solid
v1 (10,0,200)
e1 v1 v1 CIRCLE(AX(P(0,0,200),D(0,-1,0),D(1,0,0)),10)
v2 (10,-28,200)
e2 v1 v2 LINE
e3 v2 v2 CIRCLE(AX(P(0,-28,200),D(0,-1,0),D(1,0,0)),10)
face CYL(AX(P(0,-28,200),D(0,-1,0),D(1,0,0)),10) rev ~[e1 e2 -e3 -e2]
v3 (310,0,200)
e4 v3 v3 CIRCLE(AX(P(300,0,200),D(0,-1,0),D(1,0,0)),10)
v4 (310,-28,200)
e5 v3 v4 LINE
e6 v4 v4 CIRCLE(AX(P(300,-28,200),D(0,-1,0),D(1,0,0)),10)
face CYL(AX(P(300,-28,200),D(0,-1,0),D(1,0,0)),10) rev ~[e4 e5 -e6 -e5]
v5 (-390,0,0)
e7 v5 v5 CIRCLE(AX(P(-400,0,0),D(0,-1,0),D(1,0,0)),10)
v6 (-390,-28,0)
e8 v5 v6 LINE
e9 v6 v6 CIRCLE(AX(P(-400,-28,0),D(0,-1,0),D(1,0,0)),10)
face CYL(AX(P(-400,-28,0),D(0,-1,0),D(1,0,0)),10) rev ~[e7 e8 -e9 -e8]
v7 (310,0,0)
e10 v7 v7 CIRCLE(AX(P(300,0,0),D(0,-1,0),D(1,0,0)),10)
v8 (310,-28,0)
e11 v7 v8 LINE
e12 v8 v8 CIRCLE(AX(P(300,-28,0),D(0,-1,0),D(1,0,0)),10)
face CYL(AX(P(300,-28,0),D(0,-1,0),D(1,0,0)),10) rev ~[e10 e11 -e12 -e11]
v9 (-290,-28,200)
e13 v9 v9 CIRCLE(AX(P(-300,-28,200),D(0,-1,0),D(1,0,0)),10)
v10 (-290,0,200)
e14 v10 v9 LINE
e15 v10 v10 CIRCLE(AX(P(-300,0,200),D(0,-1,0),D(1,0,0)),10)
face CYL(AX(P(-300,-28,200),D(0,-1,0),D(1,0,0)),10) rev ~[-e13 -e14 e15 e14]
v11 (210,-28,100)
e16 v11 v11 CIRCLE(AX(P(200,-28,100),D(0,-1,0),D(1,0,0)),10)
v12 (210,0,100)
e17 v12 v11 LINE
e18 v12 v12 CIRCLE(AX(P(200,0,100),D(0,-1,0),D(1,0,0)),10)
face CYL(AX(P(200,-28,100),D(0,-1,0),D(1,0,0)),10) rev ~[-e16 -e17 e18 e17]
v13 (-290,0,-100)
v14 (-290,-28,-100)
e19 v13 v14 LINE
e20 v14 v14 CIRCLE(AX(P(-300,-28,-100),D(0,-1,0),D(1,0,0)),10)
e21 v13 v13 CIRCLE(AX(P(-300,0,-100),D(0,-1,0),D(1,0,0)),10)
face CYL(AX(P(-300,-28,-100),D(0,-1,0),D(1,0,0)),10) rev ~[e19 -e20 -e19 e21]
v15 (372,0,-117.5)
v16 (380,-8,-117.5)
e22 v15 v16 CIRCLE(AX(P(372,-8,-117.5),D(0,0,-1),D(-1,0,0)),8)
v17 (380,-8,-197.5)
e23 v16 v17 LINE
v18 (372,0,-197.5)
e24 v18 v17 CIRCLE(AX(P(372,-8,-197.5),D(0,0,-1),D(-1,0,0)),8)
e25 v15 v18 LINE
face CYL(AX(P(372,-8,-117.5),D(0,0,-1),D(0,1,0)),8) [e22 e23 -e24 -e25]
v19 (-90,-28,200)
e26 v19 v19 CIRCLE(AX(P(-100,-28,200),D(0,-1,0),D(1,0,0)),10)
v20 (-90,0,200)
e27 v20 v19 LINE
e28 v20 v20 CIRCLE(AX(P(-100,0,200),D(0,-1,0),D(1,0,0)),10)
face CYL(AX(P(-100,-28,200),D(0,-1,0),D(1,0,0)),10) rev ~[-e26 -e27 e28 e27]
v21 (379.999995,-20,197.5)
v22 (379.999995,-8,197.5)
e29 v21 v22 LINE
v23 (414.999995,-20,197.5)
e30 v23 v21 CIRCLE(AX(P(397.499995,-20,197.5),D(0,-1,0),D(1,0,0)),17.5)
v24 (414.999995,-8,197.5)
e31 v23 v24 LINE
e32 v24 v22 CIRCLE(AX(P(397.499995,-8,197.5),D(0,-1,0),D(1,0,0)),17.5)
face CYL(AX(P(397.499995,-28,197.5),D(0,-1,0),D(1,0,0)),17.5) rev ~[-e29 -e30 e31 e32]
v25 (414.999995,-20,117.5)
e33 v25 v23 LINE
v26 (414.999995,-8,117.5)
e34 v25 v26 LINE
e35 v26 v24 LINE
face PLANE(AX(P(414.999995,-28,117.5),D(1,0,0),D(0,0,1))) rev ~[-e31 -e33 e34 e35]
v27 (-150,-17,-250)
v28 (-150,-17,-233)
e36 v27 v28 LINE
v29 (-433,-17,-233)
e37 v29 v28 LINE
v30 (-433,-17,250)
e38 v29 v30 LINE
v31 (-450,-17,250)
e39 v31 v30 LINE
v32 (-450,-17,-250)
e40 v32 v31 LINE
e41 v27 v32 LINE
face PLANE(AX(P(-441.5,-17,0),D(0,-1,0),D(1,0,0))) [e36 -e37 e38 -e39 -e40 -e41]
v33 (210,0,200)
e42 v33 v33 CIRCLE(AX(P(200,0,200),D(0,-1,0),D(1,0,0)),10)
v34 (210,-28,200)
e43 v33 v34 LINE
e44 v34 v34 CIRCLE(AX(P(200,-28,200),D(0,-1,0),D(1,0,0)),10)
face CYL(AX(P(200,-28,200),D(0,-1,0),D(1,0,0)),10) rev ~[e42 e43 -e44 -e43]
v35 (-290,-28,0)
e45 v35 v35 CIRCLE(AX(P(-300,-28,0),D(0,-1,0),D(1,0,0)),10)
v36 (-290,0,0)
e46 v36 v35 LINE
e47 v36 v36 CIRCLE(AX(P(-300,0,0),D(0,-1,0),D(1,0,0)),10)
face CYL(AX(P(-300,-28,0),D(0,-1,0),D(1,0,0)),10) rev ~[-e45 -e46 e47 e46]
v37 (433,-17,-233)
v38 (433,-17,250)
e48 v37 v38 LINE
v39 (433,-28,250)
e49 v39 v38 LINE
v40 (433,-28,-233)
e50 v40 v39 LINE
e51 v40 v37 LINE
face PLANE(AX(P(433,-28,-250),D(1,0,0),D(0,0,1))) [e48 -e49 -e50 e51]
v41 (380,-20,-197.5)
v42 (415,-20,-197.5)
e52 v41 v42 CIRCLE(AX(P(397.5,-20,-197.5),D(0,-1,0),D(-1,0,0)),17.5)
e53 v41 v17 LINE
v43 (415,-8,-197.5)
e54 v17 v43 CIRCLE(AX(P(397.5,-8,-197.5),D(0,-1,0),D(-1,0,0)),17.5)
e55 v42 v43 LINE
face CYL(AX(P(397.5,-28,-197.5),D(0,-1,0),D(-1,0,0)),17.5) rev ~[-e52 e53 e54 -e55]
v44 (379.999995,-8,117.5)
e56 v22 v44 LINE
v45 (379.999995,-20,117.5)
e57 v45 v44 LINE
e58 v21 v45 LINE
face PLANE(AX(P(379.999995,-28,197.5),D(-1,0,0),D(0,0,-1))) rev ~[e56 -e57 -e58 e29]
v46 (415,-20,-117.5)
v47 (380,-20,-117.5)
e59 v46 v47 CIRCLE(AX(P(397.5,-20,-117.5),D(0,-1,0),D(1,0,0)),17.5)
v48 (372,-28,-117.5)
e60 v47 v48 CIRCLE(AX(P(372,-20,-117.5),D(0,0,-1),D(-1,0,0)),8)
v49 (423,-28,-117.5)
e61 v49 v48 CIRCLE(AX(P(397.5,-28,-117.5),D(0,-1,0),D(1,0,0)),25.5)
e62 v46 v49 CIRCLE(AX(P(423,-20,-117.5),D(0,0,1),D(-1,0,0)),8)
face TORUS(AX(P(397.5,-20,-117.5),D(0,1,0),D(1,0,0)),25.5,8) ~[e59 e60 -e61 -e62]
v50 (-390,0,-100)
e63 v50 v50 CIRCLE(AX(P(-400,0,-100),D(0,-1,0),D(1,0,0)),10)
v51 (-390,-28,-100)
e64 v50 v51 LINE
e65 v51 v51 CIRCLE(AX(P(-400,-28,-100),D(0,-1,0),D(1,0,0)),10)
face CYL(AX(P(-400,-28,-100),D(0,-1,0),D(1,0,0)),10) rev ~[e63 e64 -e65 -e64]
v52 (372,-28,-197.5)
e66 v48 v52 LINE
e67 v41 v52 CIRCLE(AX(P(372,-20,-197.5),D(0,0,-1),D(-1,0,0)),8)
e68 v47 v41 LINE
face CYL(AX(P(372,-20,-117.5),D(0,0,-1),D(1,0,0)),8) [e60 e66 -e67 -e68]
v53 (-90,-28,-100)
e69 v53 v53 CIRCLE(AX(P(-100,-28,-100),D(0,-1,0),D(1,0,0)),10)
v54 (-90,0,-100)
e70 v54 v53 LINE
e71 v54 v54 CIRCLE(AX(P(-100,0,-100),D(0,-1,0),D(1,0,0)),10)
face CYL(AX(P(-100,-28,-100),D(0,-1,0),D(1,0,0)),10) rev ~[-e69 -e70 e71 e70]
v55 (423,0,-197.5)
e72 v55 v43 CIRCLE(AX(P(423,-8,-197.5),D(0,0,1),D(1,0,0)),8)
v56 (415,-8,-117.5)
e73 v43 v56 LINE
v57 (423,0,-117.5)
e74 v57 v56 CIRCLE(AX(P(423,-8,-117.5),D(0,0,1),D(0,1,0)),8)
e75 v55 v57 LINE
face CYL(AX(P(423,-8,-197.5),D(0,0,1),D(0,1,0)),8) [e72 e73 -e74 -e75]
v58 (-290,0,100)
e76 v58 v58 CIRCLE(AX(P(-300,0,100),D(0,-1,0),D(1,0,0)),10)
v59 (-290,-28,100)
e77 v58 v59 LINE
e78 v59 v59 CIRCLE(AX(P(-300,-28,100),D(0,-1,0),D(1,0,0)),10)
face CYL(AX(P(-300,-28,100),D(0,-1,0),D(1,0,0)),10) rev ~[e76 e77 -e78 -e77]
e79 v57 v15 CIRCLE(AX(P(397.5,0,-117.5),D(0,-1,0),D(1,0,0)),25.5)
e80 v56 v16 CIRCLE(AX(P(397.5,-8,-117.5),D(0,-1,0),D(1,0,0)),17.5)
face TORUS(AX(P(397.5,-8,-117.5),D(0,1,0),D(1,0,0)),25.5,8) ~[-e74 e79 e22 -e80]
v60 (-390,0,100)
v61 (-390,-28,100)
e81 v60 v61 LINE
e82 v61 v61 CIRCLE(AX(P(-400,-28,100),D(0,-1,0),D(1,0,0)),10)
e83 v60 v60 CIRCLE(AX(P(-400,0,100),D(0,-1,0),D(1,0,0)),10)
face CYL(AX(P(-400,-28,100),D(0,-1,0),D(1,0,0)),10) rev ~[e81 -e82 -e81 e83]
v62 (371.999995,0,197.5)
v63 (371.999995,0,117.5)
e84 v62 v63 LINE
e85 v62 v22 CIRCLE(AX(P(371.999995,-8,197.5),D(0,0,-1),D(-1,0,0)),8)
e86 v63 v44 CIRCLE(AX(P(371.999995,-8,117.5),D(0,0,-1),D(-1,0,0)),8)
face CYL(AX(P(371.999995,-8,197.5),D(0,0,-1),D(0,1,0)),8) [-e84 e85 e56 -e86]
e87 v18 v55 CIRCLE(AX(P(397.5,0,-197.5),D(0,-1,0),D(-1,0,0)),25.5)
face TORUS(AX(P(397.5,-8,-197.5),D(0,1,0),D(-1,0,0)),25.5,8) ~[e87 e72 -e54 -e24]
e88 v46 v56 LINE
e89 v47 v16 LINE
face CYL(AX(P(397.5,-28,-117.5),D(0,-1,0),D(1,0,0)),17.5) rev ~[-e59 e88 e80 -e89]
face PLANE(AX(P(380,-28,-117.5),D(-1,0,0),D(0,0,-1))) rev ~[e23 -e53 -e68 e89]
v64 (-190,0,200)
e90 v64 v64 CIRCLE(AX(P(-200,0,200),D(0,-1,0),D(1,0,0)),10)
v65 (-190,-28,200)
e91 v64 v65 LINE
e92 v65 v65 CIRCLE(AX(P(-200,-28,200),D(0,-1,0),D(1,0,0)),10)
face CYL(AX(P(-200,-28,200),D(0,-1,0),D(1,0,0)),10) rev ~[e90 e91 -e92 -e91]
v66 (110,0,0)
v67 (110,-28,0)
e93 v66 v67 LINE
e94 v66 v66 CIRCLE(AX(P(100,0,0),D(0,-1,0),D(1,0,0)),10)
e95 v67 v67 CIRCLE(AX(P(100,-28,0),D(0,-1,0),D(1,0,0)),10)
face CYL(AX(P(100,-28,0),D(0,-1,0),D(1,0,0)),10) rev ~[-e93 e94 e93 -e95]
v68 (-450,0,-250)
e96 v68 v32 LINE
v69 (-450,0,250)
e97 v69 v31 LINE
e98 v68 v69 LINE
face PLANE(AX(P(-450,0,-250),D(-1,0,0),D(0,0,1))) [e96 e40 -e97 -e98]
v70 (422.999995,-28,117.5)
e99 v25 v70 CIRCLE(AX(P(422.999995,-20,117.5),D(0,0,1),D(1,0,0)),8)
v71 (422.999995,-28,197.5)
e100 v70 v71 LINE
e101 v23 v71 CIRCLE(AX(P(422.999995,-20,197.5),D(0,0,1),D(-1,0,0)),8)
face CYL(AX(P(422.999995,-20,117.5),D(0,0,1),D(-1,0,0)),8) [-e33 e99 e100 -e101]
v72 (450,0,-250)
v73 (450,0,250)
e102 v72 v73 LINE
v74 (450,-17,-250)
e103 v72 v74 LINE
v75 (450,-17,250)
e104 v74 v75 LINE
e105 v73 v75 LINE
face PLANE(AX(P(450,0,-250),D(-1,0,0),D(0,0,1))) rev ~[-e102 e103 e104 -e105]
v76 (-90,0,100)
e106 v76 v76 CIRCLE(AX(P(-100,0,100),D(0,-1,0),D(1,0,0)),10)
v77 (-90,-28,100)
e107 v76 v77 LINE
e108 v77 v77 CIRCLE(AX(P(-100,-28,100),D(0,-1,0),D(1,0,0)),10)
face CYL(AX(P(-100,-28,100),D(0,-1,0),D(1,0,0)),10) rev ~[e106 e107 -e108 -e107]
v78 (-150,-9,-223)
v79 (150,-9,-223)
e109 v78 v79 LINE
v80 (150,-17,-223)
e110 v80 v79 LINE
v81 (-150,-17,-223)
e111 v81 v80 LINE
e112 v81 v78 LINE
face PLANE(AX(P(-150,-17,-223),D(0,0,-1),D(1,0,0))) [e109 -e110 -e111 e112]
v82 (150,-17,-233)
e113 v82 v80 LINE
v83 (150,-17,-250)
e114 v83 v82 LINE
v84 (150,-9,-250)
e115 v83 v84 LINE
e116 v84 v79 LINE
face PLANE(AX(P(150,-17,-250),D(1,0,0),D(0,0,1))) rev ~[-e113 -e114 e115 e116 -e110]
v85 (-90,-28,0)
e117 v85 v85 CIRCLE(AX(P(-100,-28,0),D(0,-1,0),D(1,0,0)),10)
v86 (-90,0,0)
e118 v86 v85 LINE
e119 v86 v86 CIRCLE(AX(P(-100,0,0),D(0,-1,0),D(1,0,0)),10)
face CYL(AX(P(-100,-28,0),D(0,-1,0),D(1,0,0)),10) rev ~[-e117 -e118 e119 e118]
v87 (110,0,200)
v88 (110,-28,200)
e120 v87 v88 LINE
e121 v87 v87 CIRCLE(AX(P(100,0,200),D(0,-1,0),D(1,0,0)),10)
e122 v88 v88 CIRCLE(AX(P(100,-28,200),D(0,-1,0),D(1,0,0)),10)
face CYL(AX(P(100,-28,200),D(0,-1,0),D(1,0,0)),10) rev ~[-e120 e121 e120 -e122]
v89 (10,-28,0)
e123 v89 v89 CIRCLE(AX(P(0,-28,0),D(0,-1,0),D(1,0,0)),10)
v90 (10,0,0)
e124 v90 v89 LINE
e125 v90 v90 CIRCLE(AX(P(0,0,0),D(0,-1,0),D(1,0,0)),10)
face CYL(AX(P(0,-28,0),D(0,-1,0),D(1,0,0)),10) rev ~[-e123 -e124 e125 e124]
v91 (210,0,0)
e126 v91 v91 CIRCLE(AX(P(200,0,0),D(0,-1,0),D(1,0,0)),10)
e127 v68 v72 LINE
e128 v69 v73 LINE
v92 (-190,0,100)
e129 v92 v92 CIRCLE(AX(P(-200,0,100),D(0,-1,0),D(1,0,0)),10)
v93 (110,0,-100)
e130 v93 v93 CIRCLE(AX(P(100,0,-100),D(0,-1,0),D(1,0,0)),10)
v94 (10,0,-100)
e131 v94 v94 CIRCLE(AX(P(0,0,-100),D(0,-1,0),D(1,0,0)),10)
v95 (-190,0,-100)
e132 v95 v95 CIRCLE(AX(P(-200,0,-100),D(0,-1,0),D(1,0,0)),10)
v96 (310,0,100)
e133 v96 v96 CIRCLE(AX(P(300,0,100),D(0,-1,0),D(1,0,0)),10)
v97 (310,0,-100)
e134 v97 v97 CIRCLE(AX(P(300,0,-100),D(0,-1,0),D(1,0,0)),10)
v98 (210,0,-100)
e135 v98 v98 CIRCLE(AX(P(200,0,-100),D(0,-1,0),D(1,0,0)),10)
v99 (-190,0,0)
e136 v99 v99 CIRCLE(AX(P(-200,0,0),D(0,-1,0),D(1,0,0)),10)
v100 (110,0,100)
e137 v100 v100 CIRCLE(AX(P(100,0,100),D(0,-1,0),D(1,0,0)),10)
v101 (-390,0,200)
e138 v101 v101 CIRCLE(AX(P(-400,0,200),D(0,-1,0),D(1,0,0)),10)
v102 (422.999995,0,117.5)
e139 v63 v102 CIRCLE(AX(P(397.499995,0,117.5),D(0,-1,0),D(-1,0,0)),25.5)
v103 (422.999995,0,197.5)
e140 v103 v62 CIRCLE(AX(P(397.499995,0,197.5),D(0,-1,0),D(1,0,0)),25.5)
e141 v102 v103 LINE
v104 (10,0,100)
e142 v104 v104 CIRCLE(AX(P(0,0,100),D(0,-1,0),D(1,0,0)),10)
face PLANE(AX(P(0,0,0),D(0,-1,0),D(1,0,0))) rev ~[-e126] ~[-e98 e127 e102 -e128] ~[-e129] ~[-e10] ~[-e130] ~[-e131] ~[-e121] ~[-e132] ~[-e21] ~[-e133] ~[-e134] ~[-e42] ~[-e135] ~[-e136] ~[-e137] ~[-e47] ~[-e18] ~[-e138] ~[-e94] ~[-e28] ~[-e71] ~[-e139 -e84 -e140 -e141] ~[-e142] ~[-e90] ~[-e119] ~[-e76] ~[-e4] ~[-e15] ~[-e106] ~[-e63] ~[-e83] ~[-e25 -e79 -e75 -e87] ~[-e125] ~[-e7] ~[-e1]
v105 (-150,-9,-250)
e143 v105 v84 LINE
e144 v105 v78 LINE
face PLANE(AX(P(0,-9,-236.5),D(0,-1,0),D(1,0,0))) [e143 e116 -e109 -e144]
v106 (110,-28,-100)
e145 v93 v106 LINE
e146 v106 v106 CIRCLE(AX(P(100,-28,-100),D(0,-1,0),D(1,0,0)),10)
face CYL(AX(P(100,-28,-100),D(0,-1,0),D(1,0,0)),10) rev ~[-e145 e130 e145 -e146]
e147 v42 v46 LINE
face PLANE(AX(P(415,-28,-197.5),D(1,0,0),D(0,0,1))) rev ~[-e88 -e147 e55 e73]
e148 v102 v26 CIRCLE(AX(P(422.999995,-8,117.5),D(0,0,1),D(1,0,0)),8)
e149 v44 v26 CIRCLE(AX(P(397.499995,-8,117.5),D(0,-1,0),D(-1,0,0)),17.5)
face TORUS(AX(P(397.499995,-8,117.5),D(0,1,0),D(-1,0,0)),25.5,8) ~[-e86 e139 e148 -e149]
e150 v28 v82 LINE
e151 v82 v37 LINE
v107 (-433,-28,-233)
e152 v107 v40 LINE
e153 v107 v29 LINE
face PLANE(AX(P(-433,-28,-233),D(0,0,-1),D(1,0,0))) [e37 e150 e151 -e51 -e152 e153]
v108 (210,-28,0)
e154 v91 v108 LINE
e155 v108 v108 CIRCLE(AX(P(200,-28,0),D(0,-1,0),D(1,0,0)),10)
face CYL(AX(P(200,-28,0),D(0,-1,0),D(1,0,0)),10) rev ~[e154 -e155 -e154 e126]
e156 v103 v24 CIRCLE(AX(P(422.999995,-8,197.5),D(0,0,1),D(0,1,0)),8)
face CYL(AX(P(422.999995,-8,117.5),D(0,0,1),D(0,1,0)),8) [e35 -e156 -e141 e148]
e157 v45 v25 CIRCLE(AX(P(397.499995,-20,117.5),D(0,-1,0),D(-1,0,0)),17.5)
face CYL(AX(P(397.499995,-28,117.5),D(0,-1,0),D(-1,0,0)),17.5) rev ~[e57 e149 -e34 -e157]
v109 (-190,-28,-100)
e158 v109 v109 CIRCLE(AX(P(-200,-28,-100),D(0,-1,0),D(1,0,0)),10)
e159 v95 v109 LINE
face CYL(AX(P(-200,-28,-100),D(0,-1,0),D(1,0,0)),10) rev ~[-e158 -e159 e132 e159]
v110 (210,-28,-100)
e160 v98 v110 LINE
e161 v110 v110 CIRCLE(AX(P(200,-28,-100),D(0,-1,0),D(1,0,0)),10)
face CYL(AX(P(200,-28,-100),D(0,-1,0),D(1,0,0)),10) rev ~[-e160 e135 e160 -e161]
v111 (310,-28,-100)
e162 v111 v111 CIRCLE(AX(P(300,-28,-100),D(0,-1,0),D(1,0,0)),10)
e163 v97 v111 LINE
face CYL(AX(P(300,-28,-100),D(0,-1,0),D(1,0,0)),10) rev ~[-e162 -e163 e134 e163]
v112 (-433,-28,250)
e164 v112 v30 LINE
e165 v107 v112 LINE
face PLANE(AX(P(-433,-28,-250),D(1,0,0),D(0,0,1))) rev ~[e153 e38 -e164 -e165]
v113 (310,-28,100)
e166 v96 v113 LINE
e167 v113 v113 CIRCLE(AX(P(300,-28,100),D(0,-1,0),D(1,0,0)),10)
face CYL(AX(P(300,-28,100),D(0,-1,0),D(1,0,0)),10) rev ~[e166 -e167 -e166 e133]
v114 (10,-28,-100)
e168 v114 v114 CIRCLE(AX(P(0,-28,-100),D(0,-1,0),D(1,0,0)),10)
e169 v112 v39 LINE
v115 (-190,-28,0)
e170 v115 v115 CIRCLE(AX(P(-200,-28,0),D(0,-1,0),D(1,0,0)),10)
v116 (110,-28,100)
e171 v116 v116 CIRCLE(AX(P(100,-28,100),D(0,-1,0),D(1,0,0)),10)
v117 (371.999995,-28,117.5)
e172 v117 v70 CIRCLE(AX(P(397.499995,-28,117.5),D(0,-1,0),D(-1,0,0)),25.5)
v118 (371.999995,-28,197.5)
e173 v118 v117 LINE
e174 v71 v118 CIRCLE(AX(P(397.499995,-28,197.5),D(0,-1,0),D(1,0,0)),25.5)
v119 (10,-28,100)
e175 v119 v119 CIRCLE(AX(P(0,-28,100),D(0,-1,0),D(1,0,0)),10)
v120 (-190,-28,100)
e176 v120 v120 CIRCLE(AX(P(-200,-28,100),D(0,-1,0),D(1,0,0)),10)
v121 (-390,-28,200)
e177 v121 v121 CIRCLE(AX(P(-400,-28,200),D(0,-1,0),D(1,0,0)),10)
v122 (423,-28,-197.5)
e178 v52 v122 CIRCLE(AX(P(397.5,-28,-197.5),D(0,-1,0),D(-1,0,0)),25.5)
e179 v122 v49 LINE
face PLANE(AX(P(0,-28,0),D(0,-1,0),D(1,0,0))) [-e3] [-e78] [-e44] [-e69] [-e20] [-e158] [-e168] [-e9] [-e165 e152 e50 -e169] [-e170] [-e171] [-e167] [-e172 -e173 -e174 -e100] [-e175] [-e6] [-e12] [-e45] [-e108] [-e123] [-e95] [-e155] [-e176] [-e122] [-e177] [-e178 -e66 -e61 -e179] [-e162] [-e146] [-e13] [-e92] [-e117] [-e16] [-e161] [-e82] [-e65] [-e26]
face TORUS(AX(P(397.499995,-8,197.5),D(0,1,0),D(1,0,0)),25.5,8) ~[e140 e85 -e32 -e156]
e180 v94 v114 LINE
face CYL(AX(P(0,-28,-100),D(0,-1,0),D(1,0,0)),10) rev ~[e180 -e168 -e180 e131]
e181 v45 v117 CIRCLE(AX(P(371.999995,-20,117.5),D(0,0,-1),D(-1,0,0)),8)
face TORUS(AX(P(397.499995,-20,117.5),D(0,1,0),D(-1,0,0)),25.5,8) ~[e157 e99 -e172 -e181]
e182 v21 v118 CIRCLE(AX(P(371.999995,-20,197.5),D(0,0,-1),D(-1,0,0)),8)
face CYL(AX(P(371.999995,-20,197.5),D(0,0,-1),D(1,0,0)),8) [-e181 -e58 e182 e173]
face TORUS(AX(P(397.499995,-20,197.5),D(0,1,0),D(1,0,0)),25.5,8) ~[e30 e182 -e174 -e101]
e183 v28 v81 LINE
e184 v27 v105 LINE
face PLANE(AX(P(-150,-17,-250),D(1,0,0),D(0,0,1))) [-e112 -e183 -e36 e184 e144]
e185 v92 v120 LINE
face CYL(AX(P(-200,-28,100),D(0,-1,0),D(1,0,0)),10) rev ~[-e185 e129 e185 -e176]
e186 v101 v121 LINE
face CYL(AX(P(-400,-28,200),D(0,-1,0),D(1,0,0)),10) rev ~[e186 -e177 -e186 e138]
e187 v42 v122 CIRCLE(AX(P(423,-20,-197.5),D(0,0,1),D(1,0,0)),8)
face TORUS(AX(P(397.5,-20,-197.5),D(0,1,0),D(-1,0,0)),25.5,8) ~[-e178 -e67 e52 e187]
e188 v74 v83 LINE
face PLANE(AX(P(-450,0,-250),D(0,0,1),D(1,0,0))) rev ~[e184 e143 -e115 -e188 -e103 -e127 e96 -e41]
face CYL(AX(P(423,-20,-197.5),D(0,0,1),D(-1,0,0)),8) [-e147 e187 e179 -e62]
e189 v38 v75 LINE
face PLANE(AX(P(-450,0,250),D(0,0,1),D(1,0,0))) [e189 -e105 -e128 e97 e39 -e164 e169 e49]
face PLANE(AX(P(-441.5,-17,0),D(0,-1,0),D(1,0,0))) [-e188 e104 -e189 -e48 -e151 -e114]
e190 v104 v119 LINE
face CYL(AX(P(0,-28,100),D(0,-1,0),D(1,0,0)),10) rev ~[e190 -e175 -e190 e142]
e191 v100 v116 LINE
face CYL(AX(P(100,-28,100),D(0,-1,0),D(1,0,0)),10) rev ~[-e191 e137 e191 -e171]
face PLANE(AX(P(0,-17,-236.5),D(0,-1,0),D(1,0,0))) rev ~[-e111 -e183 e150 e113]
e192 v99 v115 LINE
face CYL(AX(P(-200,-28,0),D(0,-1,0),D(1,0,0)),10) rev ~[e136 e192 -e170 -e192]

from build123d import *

# Parameters (mm, degrees)
F0_W          = 900
F0_H          = 500
F1_DEPTH      = 28
F2_R          = 10
F3_DEPTH      = 25
F3_DEPTH_BACK = 35
F4_DEPTH      = 25
F4_DEPTH_BACK = 35
F6_W          = 17
F6_H          = 500
F7_DEPTH      = 11
F9_DEPTH      = 25
F9_DEPTH_BACK = 35
F10_R         = 8
F11_W         = 866
F11_H         = 17
F12_DEPTH     = 11
F13_W         = 300
F13_H         = 27
F14_DEPTH     = 8


with BuildPart() as f1:
    # F0 (on Front) → F1 (new body)
    with BuildSketch(Plane.XZ):
        Rectangle(F0_W, F0_H)
    extrude(amount=F1_DEPTH)


with BuildPart() as f3:
    # F2 (on face) → F3 (new body, two sides)
    with BuildSketch(Plane.XZ.offset(28)) as f3_sk:
        with Locations((300, -100)):
            Circle(F2_R)
        with Locations((200, -100)):
            Circle(F2_R)
        with Locations((100, -100)):
            Circle(F2_R)
        with Locations((0, -100)):
            Circle(F2_R)
        with Locations((-100, -100)):
            Circle(F2_R)
        with Locations((-200, -100)):
            Circle(F2_R)
        with Locations((-300, -100)):
            Circle(F2_R)
        with Locations((-400, -100)):
            Circle(F2_R)
        with Locations((-400, 0)):
            Circle(F2_R)
        with Locations((-300, 0)):
            Circle(F2_R)
        with Locations((-200, 0)):
            Circle(F2_R)
        with Locations((-100, 0)):
            Circle(F2_R)
        Circle(F2_R)
        with Locations((100, 0)):
            Circle(F2_R)
        with Locations((200, 0)):
            Circle(F2_R)
        with Locations((300, 0)):
            Circle(F2_R)
        with Locations((-400, 100)):
            Circle(F2_R)
        with Locations((-300, 100)):
            Circle(F2_R)
        with Locations((-200, 100)):
            Circle(F2_R)
        with Locations((-100, 100)):
            Circle(F2_R)
        with Locations((0, 100)):
            Circle(F2_R)
        with Locations((100, 100)):
            Circle(F2_R)
        with Locations((200, 100)):
            Circle(F2_R)
        with Locations((300, 100)):
            Circle(F2_R)
        with Locations((-400, 200)):
            Circle(F2_R)
        with Locations((-300, 200)):
            Circle(F2_R)
        with Locations((-200, 200)):
            Circle(F2_R)
        with Locations((-100, 200)):
            Circle(F2_R)
        with Locations((0, 200)):
            Circle(F2_R)
        with Locations((100, 200)):
            Circle(F2_R)
        with Locations((200, 200)):
            Circle(F2_R)
        with Locations((300, 200)):
            Circle(F2_R)
    extrude(amount=F3_DEPTH)
    extrude(f3_sk.sketch, amount=-F3_DEPTH_BACK)


with BuildPart() as f4:
    # F2 (on face) → F4 (new body, two sides)
    with BuildSketch(Plane.XZ.offset(28)) as f4_sk:
        with Locations((300, -100)):
            Circle(F2_R)
        with Locations((200, -100)):
            Circle(F2_R)
        with Locations((100, -100)):
            Circle(F2_R)
        with Locations((0, -100)):
            Circle(F2_R)
        with Locations((-100, -100)):
            Circle(F2_R)
        with Locations((-200, -100)):
            Circle(F2_R)
        with Locations((-300, -100)):
            Circle(F2_R)
        with Locations((-400, -100)):
            Circle(F2_R)
        with Locations((-400, 0)):
            Circle(F2_R)
        with Locations((-300, 0)):
            Circle(F2_R)
        with Locations((-200, 0)):
            Circle(F2_R)
        with Locations((-100, 0)):
            Circle(F2_R)
        Circle(F2_R)
        with Locations((100, 0)):
            Circle(F2_R)
        with Locations((200, 0)):
            Circle(F2_R)
        with Locations((300, 0)):
            Circle(F2_R)
        with Locations((-400, 100)):
            Circle(F2_R)
        with Locations((-300, 100)):
            Circle(F2_R)
        with Locations((-200, 100)):
            Circle(F2_R)
        with Locations((-100, 100)):
            Circle(F2_R)
        with Locations((0, 100)):
            Circle(F2_R)
        with Locations((100, 100)):
            Circle(F2_R)
        with Locations((200, 100)):
            Circle(F2_R)
        with Locations((300, 100)):
            Circle(F2_R)
        with Locations((-400, 200)):
            Circle(F2_R)
        with Locations((-300, 200)):
            Circle(F2_R)
        with Locations((-200, 200)):
            Circle(F2_R)
        with Locations((-100, 200)):
            Circle(F2_R)
        with Locations((0, 200)):
            Circle(F2_R)
        with Locations((100, 200)):
            Circle(F2_R)
        with Locations((200, 200)):
            Circle(F2_R)
        with Locations((300, 200)):
            Circle(F2_R)
    extrude(amount=F4_DEPTH)
    extrude(f4_sk.sketch, amount=-F4_DEPTH_BACK)


with BuildPart() as f1_1:
    add(f1.part)

    # F5: cut F3, F4
    add(f3.part, mode=Mode.SUBTRACT)
    add(f4.part, mode=Mode.SUBTRACT)

    # F6 (on face) → F7 (cut)
    with BuildSketch(Plane.XZ.offset(28)):
        with Locations((441.5, 0)):
            Rectangle(F6_W, F6_H)
        with Locations((-441.5, 0)):
            Rectangle(F6_W, F6_H)
    extrude(amount=-F7_DEPTH, mode=Mode.SUBTRACT)

    # F8 (on face) → F9 (cut, two sides)
    with BuildSketch(Plane.XZ.offset(28)) as f9_sk:
        with BuildLine():
            Line((415, -197.5), (415, -117.5))
            ThreePointArc((415, -117.5), (397.5, -100), (380, -117.5))
            Line((380, -117.5), (380, -197.5))
            ThreePointArc((380, -197.5), (397.5, -215), (415, -197.5))
        make_face()
        with BuildLine():
            Line((414.999995, 117.5), (414.999995, 197.5))
            ThreePointArc((414.999995, 197.5), (397.499995, 215), (379.999995, 197.5))
            Line((379.999995, 197.5), (379.999995, 117.5))
            ThreePointArc((379.999995, 117.5), (397.499995, 100), (414.999995, 117.5))
        make_face()
    extrude(amount=F9_DEPTH, mode=Mode.SUBTRACT)
    extrude(f9_sk.sketch, amount=-F9_DEPTH_BACK, mode=Mode.SUBTRACT)

    # F10
    f10_edges = [f1_1.edges().sort_by_distance(p)[0] for p in [
        (397.499995, -28, 100),
        (397.499995, 0, 100),
        (397.5, -28, -215),
        (397.5, 0, -215),
    ]]
    fillet(f10_edges, radius=F10_R)

    # F11 (on face) → F12 (cut)
    with BuildSketch(Plane.XZ.offset(28)):
        with Locations((0, -241.5)):
            Rectangle(F11_W, F11_H)
    extrude(amount=-F12_DEPTH, mode=Mode.SUBTRACT)

    # F13 (on face) → F14 (cut)
    with BuildSketch(Plane.XZ.offset(17)):
        with Locations((0, -236.5)):
            Rectangle(F13_W, F13_H)
    extrude(amount=-F14_DEPTH, mode=Mode.SUBTRACT)


solid = f1_1.part
